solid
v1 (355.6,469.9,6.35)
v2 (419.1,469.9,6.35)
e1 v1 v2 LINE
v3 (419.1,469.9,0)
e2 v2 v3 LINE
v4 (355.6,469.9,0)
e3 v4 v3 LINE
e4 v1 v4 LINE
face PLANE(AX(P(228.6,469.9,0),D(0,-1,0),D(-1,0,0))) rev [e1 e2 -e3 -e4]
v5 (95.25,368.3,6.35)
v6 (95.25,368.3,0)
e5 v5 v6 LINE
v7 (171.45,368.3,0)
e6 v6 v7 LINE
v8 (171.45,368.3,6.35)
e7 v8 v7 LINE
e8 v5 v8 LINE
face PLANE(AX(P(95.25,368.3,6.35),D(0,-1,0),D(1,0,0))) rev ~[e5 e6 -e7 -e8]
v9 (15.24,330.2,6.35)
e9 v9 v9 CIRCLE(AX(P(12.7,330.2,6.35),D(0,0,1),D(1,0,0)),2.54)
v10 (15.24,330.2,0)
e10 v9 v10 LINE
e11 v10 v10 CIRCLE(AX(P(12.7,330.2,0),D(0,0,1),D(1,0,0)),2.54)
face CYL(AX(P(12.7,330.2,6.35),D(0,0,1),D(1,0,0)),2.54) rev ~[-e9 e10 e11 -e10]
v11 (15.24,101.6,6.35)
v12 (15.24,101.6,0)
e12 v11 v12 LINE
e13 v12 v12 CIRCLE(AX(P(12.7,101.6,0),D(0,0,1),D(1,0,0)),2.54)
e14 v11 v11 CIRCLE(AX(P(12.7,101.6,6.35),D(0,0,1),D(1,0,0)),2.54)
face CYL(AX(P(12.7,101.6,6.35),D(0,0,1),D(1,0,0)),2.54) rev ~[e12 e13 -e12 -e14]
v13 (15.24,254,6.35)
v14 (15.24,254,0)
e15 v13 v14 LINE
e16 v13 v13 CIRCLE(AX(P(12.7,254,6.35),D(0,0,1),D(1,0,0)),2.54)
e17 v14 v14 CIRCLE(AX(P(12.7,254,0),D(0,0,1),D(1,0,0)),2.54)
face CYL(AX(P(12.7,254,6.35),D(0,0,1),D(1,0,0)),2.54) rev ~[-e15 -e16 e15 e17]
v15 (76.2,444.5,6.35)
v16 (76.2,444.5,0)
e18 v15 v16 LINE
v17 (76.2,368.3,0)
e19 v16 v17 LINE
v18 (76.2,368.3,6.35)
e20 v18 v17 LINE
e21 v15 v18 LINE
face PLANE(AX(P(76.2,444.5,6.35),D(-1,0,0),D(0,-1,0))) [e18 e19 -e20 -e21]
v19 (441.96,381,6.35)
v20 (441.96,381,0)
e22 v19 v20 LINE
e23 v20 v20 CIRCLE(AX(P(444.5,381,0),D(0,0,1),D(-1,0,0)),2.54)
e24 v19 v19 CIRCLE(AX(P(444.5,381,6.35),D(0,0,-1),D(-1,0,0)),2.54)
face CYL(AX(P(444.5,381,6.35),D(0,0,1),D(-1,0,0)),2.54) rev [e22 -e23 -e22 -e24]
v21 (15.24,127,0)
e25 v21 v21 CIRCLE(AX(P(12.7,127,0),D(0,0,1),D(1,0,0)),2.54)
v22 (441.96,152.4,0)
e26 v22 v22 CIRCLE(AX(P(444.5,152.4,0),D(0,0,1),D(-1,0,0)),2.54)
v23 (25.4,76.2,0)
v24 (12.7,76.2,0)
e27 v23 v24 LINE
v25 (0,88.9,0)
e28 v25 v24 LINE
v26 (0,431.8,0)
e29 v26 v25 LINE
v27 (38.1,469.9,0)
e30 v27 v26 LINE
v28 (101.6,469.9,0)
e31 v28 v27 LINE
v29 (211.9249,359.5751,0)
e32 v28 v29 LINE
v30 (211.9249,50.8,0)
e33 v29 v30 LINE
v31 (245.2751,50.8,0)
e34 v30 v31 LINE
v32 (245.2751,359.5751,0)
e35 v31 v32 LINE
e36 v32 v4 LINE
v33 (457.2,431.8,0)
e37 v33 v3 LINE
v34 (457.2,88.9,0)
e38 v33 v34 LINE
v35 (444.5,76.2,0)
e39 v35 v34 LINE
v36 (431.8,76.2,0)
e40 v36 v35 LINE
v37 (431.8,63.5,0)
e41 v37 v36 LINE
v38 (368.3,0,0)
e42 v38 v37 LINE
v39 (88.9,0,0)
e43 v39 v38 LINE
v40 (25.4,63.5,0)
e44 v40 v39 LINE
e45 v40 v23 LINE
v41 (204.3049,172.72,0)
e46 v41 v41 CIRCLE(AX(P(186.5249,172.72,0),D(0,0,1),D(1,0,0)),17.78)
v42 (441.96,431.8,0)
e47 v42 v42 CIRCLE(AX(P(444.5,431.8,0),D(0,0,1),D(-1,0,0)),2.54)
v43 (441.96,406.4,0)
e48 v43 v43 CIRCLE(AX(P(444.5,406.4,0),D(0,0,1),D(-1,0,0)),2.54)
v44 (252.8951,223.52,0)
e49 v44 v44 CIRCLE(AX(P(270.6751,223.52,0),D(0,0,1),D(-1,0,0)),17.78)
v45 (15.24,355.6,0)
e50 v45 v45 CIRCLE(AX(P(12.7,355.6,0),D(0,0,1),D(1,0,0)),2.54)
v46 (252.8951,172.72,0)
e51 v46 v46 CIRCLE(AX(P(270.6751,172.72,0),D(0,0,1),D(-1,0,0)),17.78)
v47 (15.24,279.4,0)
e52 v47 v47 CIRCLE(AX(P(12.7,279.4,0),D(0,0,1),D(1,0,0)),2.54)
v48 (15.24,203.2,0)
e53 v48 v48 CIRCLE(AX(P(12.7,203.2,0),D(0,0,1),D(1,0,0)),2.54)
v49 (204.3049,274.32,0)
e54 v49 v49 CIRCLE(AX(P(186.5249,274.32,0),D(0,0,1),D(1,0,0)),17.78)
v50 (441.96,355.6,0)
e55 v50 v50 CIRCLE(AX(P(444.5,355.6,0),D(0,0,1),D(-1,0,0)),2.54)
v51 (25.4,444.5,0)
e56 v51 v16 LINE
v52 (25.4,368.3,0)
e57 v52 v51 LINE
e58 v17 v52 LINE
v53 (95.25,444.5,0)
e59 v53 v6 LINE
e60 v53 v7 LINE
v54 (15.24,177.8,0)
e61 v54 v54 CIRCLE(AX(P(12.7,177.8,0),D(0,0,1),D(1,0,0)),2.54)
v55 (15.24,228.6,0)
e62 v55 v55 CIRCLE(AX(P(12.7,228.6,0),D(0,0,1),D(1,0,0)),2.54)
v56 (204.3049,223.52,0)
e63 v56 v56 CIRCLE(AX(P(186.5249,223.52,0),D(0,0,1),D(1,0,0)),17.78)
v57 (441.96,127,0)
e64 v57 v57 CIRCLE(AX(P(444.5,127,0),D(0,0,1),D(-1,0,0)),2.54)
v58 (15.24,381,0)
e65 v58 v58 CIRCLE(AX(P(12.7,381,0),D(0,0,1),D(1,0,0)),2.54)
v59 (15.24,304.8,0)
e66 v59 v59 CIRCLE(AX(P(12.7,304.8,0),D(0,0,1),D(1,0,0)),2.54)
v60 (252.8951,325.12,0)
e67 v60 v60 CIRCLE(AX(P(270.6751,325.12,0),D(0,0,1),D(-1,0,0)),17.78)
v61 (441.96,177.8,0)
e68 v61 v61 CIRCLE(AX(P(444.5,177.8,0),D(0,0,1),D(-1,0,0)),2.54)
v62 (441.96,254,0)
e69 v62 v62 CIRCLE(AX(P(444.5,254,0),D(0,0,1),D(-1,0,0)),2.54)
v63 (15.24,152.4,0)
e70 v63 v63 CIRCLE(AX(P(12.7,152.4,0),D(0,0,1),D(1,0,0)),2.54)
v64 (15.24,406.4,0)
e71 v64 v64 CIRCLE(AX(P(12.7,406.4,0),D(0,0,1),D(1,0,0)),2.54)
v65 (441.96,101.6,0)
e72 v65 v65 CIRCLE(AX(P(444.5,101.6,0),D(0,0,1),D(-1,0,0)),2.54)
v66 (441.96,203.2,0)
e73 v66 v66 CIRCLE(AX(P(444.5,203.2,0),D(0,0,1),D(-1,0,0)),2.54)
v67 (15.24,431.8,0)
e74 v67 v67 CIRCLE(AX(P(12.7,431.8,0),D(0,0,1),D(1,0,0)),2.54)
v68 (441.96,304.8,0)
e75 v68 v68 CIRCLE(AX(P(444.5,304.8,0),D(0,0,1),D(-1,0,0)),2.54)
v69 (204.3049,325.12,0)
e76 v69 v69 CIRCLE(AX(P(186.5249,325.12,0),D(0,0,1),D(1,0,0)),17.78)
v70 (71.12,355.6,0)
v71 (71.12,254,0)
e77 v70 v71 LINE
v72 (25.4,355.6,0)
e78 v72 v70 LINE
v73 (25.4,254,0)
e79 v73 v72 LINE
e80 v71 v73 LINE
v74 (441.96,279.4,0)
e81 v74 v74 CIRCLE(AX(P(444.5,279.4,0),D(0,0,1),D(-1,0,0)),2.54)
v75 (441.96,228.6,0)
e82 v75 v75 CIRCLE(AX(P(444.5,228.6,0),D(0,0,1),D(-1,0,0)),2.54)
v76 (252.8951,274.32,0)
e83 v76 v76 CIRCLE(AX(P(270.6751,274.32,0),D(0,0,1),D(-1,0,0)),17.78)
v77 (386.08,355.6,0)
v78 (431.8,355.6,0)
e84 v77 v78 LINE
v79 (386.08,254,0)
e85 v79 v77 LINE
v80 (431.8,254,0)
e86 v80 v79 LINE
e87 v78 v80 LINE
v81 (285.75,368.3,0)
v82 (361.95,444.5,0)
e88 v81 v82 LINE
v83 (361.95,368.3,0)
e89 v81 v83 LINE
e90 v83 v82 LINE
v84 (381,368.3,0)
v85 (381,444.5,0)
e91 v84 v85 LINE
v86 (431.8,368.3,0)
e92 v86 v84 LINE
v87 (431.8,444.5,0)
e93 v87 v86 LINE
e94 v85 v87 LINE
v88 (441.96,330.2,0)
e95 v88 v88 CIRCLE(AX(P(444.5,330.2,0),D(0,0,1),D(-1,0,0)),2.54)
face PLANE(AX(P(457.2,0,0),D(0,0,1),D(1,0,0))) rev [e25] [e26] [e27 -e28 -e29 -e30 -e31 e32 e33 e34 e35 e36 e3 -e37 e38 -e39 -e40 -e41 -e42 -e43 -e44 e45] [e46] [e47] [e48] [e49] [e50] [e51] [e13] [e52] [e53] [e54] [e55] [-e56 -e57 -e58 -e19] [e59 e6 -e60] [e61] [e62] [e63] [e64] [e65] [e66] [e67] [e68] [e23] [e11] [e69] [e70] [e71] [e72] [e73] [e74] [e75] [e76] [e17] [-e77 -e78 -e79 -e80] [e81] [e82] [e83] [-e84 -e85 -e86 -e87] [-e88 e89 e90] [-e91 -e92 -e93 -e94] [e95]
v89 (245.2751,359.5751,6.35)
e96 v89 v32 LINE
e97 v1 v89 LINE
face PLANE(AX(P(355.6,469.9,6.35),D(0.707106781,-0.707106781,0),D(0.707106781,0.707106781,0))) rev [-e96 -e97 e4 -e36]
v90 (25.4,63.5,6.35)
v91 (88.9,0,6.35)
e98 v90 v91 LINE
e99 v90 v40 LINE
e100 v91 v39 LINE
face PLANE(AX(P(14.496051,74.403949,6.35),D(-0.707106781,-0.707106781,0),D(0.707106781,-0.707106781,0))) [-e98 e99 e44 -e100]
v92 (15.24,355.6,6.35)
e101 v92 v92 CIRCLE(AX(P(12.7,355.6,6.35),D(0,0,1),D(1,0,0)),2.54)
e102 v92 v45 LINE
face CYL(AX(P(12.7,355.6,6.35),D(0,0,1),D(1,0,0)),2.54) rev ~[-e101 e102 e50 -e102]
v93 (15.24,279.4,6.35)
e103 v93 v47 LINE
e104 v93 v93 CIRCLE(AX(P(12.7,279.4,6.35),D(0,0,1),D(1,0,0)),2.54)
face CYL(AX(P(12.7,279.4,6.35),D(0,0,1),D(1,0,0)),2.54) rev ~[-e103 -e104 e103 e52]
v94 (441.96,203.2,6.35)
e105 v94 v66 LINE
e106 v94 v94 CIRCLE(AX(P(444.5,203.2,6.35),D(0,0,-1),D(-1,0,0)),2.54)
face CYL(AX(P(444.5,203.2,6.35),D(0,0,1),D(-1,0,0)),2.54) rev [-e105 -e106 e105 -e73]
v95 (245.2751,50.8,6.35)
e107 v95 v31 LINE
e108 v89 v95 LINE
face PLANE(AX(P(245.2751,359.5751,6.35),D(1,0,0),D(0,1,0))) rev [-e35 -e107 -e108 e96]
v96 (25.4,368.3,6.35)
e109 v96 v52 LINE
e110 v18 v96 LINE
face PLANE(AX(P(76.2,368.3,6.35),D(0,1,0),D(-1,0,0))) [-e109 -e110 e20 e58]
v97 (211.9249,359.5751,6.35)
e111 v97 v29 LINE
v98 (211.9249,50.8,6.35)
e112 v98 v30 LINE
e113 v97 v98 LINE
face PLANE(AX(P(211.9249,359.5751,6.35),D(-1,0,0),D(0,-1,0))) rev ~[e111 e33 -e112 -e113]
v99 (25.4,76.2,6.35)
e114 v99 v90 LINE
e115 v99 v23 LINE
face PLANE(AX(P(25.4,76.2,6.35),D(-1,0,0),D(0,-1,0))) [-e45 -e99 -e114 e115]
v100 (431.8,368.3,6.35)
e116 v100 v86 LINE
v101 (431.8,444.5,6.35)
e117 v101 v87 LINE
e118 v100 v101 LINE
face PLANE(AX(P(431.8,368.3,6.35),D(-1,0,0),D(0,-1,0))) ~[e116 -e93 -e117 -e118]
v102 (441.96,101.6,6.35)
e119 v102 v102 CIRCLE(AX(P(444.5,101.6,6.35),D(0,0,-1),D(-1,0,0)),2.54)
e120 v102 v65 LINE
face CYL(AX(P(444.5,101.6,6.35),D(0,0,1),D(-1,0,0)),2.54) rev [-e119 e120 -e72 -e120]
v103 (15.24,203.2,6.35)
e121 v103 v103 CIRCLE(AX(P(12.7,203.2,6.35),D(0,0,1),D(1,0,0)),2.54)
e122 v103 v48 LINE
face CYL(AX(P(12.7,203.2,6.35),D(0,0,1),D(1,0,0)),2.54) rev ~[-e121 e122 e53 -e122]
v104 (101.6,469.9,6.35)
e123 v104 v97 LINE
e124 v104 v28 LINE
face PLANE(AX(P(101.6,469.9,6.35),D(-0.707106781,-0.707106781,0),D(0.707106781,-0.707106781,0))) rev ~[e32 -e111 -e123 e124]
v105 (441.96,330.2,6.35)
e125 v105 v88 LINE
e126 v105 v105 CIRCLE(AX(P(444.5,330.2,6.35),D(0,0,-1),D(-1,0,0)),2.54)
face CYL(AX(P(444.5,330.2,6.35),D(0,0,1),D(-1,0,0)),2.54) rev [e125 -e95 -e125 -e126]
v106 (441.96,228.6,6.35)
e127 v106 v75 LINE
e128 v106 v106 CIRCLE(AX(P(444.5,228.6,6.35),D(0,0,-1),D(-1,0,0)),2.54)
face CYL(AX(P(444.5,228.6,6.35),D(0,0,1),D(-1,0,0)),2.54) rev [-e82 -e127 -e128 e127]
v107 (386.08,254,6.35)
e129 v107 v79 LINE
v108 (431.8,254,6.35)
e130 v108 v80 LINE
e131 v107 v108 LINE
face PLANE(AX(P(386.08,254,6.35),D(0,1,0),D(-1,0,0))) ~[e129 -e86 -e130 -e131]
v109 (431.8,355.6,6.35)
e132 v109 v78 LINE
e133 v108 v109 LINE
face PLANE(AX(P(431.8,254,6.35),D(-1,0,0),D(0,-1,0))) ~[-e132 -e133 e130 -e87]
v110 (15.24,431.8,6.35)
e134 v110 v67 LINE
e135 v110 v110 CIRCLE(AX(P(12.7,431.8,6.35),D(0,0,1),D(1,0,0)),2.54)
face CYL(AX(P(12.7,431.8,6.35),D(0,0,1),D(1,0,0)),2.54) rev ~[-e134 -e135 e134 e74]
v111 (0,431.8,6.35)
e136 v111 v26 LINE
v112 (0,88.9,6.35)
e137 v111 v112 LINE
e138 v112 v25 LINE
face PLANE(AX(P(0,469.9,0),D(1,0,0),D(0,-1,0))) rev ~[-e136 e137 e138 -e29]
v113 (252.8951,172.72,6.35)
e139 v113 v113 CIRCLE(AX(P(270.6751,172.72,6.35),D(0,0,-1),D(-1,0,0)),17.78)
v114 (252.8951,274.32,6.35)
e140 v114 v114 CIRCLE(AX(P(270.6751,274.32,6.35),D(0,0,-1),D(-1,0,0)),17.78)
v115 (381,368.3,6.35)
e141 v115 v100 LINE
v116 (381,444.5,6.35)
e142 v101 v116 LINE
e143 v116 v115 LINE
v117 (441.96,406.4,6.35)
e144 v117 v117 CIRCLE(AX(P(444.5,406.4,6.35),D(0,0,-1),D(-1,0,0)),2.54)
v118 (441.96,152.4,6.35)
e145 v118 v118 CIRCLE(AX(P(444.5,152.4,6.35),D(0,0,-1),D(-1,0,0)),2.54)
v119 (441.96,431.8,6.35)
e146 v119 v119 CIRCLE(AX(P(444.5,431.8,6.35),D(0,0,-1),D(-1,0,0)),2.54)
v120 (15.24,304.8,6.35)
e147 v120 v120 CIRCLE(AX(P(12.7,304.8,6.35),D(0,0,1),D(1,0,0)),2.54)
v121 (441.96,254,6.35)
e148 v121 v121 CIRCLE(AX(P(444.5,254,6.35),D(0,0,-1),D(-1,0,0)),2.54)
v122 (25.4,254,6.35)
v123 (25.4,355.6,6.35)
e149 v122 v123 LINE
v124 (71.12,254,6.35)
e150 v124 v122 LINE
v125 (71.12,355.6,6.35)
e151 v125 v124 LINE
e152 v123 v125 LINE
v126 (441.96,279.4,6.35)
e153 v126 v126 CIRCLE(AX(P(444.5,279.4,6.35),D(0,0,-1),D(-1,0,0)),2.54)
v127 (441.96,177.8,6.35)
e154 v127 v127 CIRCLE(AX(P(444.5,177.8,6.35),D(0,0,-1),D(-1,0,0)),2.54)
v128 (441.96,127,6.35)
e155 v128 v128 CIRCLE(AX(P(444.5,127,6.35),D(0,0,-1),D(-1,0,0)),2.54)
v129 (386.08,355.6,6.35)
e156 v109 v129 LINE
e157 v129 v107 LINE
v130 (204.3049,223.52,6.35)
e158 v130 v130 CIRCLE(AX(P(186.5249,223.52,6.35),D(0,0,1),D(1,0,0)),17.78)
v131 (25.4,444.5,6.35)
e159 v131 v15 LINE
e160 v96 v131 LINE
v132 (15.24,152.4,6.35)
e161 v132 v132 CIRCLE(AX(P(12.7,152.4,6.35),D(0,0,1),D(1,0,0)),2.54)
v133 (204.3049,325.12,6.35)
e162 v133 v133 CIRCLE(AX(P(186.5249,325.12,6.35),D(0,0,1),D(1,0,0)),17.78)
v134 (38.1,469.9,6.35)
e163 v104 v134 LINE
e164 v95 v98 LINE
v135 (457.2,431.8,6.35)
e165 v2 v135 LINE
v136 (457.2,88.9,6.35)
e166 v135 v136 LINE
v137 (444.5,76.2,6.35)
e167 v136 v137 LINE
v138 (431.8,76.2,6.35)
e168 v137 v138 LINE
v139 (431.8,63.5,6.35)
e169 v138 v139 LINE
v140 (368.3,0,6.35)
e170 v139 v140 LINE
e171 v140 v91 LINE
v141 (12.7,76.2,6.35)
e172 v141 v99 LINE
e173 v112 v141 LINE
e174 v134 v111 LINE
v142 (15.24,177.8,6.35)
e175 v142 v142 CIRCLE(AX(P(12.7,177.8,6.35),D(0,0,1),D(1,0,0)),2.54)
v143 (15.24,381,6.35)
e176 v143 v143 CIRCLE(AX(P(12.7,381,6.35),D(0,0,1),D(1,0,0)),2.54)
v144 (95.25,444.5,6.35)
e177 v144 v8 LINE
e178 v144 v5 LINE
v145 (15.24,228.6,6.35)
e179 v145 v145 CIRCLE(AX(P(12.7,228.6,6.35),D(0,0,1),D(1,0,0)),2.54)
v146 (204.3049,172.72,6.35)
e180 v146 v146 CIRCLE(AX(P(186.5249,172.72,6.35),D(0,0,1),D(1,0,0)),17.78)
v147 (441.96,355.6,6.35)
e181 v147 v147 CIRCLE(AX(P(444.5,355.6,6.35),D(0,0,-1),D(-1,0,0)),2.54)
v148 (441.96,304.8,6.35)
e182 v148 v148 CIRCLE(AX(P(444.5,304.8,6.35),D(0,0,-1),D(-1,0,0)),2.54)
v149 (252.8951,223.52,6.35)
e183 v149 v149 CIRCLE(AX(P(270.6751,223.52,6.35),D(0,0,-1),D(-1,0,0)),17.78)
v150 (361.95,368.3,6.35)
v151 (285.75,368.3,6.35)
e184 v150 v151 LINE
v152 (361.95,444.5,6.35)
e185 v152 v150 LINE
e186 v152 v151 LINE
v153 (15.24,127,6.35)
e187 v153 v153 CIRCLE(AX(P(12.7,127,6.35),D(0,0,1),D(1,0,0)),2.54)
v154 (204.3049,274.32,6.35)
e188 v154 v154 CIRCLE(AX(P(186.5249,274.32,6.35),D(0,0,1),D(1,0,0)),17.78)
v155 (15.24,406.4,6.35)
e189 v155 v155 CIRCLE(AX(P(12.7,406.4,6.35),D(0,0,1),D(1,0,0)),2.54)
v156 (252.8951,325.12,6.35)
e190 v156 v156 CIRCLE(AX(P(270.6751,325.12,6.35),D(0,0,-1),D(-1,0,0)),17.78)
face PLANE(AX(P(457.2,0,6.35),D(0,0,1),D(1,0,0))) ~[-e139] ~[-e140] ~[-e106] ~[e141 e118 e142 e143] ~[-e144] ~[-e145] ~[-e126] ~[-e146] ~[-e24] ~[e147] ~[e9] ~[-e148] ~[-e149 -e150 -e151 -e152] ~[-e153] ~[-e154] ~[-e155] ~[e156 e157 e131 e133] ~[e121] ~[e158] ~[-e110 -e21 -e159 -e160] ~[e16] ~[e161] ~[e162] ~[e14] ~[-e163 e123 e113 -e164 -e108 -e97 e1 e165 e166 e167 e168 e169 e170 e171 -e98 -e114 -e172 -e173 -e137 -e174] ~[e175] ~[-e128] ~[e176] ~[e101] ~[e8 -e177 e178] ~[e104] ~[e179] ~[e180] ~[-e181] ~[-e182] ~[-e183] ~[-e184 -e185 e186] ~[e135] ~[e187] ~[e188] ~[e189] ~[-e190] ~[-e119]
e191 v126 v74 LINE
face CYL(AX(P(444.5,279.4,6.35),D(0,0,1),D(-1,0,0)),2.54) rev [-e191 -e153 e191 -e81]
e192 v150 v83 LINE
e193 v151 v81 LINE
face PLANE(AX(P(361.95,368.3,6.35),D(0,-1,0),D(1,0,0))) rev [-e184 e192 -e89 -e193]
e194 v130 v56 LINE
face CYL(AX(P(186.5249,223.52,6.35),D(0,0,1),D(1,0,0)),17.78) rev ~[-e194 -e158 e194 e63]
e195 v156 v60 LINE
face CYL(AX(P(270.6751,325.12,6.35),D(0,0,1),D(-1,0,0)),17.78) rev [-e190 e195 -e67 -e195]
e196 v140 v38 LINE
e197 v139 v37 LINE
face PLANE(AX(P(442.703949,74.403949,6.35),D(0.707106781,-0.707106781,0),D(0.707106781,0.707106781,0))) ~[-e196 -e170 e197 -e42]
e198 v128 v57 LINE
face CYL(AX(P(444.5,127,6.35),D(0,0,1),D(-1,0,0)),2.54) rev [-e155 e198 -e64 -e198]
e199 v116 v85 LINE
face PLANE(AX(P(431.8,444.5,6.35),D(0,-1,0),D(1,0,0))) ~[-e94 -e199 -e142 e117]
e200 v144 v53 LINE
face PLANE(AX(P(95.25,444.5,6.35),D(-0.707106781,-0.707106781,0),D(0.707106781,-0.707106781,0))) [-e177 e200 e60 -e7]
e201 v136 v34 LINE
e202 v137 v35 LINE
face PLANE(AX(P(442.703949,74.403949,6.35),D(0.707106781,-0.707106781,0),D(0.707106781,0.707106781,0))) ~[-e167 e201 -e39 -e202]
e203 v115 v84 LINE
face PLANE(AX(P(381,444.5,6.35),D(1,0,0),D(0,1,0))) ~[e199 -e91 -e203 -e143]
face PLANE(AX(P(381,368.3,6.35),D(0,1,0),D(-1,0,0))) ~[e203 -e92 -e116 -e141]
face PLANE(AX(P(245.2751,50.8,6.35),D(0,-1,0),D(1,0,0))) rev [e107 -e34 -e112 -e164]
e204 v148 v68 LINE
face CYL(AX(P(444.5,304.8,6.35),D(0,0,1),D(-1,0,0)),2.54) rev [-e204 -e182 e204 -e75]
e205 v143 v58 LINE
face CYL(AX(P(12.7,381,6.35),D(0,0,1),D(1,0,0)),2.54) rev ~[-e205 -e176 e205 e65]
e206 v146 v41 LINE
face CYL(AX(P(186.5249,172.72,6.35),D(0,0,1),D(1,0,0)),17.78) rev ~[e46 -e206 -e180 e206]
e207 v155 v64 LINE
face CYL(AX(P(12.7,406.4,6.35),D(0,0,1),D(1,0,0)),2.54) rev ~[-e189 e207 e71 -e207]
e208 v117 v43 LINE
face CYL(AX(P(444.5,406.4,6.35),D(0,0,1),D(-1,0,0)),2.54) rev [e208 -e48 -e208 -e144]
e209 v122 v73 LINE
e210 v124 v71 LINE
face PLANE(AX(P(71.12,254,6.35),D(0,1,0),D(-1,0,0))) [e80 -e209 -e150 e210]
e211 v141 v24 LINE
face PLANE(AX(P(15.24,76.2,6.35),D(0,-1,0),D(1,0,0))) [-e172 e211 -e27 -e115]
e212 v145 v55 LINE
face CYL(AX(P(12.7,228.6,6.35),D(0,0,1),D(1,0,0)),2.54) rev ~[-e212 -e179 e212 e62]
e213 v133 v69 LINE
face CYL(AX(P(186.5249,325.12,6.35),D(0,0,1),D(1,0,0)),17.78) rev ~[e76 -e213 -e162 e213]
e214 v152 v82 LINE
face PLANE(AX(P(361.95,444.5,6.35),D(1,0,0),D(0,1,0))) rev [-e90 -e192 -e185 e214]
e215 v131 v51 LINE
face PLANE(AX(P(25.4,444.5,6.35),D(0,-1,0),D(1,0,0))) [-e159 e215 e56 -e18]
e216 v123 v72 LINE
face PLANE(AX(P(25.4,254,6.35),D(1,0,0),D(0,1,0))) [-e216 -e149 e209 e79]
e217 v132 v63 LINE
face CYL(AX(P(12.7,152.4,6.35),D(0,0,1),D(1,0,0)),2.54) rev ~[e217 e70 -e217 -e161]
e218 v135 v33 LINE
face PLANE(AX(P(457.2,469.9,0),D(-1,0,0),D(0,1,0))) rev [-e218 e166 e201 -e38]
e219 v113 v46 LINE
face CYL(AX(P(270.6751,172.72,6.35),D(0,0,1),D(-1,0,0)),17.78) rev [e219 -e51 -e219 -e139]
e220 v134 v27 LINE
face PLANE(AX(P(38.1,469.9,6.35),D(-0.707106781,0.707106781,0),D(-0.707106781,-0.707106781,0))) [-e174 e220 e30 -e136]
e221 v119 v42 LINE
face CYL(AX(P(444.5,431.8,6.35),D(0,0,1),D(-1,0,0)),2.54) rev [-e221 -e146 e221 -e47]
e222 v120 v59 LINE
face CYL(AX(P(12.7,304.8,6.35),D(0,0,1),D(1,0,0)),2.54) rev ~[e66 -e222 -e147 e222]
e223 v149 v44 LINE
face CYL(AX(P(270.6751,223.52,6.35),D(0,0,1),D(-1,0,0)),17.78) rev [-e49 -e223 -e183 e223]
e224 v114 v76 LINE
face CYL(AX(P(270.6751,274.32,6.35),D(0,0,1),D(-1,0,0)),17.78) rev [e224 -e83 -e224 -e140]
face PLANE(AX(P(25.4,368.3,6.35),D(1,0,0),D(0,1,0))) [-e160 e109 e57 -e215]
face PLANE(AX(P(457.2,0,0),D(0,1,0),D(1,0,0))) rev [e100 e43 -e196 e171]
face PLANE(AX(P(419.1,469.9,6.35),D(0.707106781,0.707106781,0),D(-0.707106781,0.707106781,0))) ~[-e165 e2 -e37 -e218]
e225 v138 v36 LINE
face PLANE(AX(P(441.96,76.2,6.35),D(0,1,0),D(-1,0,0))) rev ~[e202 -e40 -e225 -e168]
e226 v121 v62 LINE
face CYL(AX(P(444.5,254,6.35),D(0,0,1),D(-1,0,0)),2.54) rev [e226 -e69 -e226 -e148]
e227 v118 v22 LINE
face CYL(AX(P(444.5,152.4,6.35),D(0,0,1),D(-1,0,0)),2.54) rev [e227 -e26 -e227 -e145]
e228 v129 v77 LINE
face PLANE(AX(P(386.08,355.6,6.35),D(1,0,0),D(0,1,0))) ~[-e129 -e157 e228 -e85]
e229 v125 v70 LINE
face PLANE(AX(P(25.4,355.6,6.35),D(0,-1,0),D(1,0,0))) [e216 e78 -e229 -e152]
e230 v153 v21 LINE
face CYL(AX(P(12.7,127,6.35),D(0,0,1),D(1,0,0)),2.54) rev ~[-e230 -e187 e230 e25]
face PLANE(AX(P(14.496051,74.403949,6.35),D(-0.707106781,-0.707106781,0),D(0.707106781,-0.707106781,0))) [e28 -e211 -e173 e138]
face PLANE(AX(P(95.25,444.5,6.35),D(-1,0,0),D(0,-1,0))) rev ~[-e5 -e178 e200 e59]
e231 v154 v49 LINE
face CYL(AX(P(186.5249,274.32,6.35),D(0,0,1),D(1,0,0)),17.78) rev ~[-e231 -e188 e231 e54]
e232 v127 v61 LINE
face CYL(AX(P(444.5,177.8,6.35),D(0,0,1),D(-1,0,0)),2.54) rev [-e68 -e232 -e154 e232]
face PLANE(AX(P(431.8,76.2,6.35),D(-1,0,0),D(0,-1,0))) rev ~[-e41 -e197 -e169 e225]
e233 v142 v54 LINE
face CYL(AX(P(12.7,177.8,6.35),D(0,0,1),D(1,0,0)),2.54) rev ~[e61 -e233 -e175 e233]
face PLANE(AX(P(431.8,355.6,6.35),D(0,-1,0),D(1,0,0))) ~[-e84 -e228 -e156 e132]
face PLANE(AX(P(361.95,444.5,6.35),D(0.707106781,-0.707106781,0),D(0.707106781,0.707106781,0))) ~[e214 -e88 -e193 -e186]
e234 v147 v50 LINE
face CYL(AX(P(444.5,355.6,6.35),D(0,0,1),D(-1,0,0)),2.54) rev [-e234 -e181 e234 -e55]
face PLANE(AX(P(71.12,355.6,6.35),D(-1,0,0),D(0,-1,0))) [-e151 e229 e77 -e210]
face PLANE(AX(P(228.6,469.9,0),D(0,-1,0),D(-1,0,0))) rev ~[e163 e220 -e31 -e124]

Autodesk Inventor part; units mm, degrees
ref_plane "YZ Plane" through (0, 0, 0) normal (1, 0, 0) x (0, 1, 0)
ref_plane "XZ Plane" through (0, 0, 0) normal (0, 1, 0) x (-1, 0, 0)
sketch "Sketch1" plane through (0, 0, 0) normal (0, 0, 1) x (1, 0, 0)
  line L0 (0, 0) -> (228.6, 0)
  line L1 (228.6, 0) -> (228.6, 469.9)
  line L2 (228.6, 469.9) -> (0, 469.9)
  line L3 (0, 469.9) -> (0, 0)
  dimension "d0" = 469.9
  dimension "d1" = 228.6
extrude "Extrusion1" add sketch "Sketch1" along normal blind 6.35
sketch "Sketch2" plane through (0, 0, 6.35) normal (0, 0, 1) x (1, 0, 0)
  line L0 (228.6, 469.9) -> (0, 469.9) projected
  line L1 (38.1, 469.9) -> (0, 431.8)
  line L2 (0, 469.9) -> (0, 0) projected
  line L3 (0, 88.9) -> (88.9, 0)
  line L4 (0, 0) -> (228.6, 0) projected
  line L5 (0, 88.9) -> (0, 0)
  line L6 (0, 0) -> (88.9, 0)
  line L7 (38.1, 469.9) -> (0, 469.9)
  line L8 (0, 431.8) -> (0, 469.9)
  circle A0 centre (12.7, 457.2) radius 2.54
  circle A1 centre (12.7, 431.8) radius 2.54
  circle A2 centre (12.7, 406.4) radius 2.54
  circle A3 centre (12.7, 381) radius 2.54
  circle A4 centre (12.7, 355.6) radius 2.54
  circle A5 centre (12.7, 330.2) radius 2.54
  circle A6 centre (12.7, 304.8) radius 2.54
  circle A7 centre (12.7, 279.4) radius 2.54
  circle A8 centre (12.7, 254) radius 2.54
  circle A9 centre (12.7, 228.6) radius 2.54
  circle A10 centre (12.7, 203.2) radius 2.54
  circle A11 centre (12.7, 177.8) radius 2.54
  circle A12 centre (12.7, 152.4) radius 2.54
  circle A13 centre (12.7, 127) radius 2.54
  circle A14 centre (12.7, 101.6) radius 2.54
  circle A15 centre (12.7, 76.2) radius 2.54
  circle A16 centre (12.7, 50.8) radius 2.54
  circle A17 centre (12.7, 25.4) radius 2.54
  line L9 (25.4, 444.5) -> (76.2, 444.5)
  line L10 (76.2, 444.5) -> (76.2, 368.3)
  line L11 (76.2, 368.3) -> (25.4, 368.3)
  line L12 (25.4, 368.3) -> (25.4, 444.5)
  line L13 (25.4, 355.6) -> (71.12, 355.6)
  line L14 (71.12, 355.6) -> (71.12, 254)
  line L15 (71.12, 254) -> (25.4, 254)
  line L16 (25.4, 254) -> (25.4, 355.6)
  line L17 (95.25, 444.5) -> (95.25, 368.3)
  line L18 (95.25, 368.3) -> (171.45, 368.3)
  line L19 (95.25, 444.5) -> (171.45, 368.3)
  line L20 (211.9249, 469.9) -> (211.9249, 50.8)
  line L21 (228.6, 0) -> (228.6, 469.9) projected
  line L22 (101.6, 469.9) -> (228.6, 342.9)
  line L23 (101.6, 469.9) -> (228.6, 469.9)
  line L24 (228.6, 469.9) -> (228.6, 342.9)
  line L25 (211.9249, 50.8) -> (228.6, 50.8)
  line L26 (228.6, 50.8) -> (228.6, 342.9)
  circle A18 centre (186.5249, 325.12) radius 17.78
  circle A19 centre (186.5249, 274.32) radius 17.78
  circle A20 centre (186.5249, 223.52) radius 17.78
  circle A21 centre (186.5249, 172.72) radius 17.78
  line L27 (211.9249, 359.5751) -> (228.6, 342.9)
  line L28 (211.9249, 359.5751) -> (211.9249, 50.8)
  line L29 (211.9249, 50.8) -> (228.6, 50.8)
  line L30 (228.6, 50.8) -> (228.6, 342.9)
  dimension "d4" = 38.1
  dimension "d5" = 38.1
  dimension "d6" = 88.9
  dimension "d7" = 0
  dimension "d8" = 88.9
  dimension "d9" = 5.08
  dimension "d10" = 12.7
  dimension "d11" = 12.7
  dimension "d14" = 25.4
  dimension "d20" = 50.8
  dimension "d21" = 76.2
  dimension "d22" = 25.4
  dimension "d23" = 25.4
  dimension "d24" = 45.72
  dimension "d25" = 101.6
  dimension "d27" = 25.4
  dimension "d28" = 19.05
  dimension "d29" = 76.2
  dimension "d30" = 76.2
  dimension "d31" = 0
  dimension "d32" = 12.7
  dimension "d33" = 16.6751
  dimension "d34" = 0
  dimension "d35" = 50.8
  dimension "d37" = 127
  dimension "d38" = 35.56
  dimension "d39" = 17.78
  dimension "d42" = 50.8
  dimension "d47" = 25.4
extrude "Extrusion2" cut sketch "Sketch2" against normal blind 25.4 contours L21 L22 L20 L0 | L20 L22 L0 | L21 L25 L20 L22 | L1 L2 L0 | L4 L2 L3 A15 | A15 L3 | A0 | A1 | A2 | A3 | A4 | A5 | A6 | A7 | A8 | A9 | A10 | A11 | A12 | A13 | A14 | A16 | A17 | L9 L10 L11 L12 | L13 L14 L15 L16 | L19 L18 L17 | A18 | A19 | A20 | A21 picked at (11.9754, 76.638)
ref_plane "Work Plane2" through (228.6, 0, 6.35) normal (1, 0, 0) x (0, 0, -1)
mirror "Mirror1" about plane through (228.6, 0, 6.35) normal (1, 0, 0) of "Extrusion1", "Extrusion2"
sketch "Sketch3" plane through (0, 0, 6.35) normal (0, 0, 1) x (1, 0, 0)
  circle A0 centre (12.7, 76.2) radius 2.54
  circle A1 centre (12.7, 101.6) radius 2.54 projected
  line L0 (12.7, 76.2) -> (25.4, 76.2)
  line L1 (25.4, 76.2) -> (25.4, 63.5)
  line L2 (88.9, 0) -> (0, 88.9) projected
  line L3 (25.4, 63.5) -> (12.7, 76.2)
  circle A2 centre (444.5, 76.2) radius 2.54
  circle A3 centre (444.5, 101.6) radius 2.54 projected
  line L4 (444.5, 76.2) -> (431.8, 76.2)
  line L5 (431.8, 76.2) -> (431.8, 63.5)
  line L6 (431.8, 63.5) -> (444.5, 76.2)
  line L7 (457.2, 88.9) -> (368.3, 0) projected
  point P0 (0, 0)
  dimension "d52" = 5.08
  dimension "d53" = 25.4
  dimension "d54" = 0
  dimension "d55" = 12.7
  dimension "d56" = 5.08
  dimension "d57" = 25.4
  dimension "d58" = 0
  dimension "d59" = 12.7
extrude "Extrusion3" cut sketch "Sketch3" against normal blind 25.4 contours L0 L1 L2 A0 | A0 L2 L0 | L6 L5 L4 A2 | A2 L4 L6 picked at (14.3126, 75.7108)
equation "\"d27\" = d23"
properties part number "Kermit Board" material "Glass"
